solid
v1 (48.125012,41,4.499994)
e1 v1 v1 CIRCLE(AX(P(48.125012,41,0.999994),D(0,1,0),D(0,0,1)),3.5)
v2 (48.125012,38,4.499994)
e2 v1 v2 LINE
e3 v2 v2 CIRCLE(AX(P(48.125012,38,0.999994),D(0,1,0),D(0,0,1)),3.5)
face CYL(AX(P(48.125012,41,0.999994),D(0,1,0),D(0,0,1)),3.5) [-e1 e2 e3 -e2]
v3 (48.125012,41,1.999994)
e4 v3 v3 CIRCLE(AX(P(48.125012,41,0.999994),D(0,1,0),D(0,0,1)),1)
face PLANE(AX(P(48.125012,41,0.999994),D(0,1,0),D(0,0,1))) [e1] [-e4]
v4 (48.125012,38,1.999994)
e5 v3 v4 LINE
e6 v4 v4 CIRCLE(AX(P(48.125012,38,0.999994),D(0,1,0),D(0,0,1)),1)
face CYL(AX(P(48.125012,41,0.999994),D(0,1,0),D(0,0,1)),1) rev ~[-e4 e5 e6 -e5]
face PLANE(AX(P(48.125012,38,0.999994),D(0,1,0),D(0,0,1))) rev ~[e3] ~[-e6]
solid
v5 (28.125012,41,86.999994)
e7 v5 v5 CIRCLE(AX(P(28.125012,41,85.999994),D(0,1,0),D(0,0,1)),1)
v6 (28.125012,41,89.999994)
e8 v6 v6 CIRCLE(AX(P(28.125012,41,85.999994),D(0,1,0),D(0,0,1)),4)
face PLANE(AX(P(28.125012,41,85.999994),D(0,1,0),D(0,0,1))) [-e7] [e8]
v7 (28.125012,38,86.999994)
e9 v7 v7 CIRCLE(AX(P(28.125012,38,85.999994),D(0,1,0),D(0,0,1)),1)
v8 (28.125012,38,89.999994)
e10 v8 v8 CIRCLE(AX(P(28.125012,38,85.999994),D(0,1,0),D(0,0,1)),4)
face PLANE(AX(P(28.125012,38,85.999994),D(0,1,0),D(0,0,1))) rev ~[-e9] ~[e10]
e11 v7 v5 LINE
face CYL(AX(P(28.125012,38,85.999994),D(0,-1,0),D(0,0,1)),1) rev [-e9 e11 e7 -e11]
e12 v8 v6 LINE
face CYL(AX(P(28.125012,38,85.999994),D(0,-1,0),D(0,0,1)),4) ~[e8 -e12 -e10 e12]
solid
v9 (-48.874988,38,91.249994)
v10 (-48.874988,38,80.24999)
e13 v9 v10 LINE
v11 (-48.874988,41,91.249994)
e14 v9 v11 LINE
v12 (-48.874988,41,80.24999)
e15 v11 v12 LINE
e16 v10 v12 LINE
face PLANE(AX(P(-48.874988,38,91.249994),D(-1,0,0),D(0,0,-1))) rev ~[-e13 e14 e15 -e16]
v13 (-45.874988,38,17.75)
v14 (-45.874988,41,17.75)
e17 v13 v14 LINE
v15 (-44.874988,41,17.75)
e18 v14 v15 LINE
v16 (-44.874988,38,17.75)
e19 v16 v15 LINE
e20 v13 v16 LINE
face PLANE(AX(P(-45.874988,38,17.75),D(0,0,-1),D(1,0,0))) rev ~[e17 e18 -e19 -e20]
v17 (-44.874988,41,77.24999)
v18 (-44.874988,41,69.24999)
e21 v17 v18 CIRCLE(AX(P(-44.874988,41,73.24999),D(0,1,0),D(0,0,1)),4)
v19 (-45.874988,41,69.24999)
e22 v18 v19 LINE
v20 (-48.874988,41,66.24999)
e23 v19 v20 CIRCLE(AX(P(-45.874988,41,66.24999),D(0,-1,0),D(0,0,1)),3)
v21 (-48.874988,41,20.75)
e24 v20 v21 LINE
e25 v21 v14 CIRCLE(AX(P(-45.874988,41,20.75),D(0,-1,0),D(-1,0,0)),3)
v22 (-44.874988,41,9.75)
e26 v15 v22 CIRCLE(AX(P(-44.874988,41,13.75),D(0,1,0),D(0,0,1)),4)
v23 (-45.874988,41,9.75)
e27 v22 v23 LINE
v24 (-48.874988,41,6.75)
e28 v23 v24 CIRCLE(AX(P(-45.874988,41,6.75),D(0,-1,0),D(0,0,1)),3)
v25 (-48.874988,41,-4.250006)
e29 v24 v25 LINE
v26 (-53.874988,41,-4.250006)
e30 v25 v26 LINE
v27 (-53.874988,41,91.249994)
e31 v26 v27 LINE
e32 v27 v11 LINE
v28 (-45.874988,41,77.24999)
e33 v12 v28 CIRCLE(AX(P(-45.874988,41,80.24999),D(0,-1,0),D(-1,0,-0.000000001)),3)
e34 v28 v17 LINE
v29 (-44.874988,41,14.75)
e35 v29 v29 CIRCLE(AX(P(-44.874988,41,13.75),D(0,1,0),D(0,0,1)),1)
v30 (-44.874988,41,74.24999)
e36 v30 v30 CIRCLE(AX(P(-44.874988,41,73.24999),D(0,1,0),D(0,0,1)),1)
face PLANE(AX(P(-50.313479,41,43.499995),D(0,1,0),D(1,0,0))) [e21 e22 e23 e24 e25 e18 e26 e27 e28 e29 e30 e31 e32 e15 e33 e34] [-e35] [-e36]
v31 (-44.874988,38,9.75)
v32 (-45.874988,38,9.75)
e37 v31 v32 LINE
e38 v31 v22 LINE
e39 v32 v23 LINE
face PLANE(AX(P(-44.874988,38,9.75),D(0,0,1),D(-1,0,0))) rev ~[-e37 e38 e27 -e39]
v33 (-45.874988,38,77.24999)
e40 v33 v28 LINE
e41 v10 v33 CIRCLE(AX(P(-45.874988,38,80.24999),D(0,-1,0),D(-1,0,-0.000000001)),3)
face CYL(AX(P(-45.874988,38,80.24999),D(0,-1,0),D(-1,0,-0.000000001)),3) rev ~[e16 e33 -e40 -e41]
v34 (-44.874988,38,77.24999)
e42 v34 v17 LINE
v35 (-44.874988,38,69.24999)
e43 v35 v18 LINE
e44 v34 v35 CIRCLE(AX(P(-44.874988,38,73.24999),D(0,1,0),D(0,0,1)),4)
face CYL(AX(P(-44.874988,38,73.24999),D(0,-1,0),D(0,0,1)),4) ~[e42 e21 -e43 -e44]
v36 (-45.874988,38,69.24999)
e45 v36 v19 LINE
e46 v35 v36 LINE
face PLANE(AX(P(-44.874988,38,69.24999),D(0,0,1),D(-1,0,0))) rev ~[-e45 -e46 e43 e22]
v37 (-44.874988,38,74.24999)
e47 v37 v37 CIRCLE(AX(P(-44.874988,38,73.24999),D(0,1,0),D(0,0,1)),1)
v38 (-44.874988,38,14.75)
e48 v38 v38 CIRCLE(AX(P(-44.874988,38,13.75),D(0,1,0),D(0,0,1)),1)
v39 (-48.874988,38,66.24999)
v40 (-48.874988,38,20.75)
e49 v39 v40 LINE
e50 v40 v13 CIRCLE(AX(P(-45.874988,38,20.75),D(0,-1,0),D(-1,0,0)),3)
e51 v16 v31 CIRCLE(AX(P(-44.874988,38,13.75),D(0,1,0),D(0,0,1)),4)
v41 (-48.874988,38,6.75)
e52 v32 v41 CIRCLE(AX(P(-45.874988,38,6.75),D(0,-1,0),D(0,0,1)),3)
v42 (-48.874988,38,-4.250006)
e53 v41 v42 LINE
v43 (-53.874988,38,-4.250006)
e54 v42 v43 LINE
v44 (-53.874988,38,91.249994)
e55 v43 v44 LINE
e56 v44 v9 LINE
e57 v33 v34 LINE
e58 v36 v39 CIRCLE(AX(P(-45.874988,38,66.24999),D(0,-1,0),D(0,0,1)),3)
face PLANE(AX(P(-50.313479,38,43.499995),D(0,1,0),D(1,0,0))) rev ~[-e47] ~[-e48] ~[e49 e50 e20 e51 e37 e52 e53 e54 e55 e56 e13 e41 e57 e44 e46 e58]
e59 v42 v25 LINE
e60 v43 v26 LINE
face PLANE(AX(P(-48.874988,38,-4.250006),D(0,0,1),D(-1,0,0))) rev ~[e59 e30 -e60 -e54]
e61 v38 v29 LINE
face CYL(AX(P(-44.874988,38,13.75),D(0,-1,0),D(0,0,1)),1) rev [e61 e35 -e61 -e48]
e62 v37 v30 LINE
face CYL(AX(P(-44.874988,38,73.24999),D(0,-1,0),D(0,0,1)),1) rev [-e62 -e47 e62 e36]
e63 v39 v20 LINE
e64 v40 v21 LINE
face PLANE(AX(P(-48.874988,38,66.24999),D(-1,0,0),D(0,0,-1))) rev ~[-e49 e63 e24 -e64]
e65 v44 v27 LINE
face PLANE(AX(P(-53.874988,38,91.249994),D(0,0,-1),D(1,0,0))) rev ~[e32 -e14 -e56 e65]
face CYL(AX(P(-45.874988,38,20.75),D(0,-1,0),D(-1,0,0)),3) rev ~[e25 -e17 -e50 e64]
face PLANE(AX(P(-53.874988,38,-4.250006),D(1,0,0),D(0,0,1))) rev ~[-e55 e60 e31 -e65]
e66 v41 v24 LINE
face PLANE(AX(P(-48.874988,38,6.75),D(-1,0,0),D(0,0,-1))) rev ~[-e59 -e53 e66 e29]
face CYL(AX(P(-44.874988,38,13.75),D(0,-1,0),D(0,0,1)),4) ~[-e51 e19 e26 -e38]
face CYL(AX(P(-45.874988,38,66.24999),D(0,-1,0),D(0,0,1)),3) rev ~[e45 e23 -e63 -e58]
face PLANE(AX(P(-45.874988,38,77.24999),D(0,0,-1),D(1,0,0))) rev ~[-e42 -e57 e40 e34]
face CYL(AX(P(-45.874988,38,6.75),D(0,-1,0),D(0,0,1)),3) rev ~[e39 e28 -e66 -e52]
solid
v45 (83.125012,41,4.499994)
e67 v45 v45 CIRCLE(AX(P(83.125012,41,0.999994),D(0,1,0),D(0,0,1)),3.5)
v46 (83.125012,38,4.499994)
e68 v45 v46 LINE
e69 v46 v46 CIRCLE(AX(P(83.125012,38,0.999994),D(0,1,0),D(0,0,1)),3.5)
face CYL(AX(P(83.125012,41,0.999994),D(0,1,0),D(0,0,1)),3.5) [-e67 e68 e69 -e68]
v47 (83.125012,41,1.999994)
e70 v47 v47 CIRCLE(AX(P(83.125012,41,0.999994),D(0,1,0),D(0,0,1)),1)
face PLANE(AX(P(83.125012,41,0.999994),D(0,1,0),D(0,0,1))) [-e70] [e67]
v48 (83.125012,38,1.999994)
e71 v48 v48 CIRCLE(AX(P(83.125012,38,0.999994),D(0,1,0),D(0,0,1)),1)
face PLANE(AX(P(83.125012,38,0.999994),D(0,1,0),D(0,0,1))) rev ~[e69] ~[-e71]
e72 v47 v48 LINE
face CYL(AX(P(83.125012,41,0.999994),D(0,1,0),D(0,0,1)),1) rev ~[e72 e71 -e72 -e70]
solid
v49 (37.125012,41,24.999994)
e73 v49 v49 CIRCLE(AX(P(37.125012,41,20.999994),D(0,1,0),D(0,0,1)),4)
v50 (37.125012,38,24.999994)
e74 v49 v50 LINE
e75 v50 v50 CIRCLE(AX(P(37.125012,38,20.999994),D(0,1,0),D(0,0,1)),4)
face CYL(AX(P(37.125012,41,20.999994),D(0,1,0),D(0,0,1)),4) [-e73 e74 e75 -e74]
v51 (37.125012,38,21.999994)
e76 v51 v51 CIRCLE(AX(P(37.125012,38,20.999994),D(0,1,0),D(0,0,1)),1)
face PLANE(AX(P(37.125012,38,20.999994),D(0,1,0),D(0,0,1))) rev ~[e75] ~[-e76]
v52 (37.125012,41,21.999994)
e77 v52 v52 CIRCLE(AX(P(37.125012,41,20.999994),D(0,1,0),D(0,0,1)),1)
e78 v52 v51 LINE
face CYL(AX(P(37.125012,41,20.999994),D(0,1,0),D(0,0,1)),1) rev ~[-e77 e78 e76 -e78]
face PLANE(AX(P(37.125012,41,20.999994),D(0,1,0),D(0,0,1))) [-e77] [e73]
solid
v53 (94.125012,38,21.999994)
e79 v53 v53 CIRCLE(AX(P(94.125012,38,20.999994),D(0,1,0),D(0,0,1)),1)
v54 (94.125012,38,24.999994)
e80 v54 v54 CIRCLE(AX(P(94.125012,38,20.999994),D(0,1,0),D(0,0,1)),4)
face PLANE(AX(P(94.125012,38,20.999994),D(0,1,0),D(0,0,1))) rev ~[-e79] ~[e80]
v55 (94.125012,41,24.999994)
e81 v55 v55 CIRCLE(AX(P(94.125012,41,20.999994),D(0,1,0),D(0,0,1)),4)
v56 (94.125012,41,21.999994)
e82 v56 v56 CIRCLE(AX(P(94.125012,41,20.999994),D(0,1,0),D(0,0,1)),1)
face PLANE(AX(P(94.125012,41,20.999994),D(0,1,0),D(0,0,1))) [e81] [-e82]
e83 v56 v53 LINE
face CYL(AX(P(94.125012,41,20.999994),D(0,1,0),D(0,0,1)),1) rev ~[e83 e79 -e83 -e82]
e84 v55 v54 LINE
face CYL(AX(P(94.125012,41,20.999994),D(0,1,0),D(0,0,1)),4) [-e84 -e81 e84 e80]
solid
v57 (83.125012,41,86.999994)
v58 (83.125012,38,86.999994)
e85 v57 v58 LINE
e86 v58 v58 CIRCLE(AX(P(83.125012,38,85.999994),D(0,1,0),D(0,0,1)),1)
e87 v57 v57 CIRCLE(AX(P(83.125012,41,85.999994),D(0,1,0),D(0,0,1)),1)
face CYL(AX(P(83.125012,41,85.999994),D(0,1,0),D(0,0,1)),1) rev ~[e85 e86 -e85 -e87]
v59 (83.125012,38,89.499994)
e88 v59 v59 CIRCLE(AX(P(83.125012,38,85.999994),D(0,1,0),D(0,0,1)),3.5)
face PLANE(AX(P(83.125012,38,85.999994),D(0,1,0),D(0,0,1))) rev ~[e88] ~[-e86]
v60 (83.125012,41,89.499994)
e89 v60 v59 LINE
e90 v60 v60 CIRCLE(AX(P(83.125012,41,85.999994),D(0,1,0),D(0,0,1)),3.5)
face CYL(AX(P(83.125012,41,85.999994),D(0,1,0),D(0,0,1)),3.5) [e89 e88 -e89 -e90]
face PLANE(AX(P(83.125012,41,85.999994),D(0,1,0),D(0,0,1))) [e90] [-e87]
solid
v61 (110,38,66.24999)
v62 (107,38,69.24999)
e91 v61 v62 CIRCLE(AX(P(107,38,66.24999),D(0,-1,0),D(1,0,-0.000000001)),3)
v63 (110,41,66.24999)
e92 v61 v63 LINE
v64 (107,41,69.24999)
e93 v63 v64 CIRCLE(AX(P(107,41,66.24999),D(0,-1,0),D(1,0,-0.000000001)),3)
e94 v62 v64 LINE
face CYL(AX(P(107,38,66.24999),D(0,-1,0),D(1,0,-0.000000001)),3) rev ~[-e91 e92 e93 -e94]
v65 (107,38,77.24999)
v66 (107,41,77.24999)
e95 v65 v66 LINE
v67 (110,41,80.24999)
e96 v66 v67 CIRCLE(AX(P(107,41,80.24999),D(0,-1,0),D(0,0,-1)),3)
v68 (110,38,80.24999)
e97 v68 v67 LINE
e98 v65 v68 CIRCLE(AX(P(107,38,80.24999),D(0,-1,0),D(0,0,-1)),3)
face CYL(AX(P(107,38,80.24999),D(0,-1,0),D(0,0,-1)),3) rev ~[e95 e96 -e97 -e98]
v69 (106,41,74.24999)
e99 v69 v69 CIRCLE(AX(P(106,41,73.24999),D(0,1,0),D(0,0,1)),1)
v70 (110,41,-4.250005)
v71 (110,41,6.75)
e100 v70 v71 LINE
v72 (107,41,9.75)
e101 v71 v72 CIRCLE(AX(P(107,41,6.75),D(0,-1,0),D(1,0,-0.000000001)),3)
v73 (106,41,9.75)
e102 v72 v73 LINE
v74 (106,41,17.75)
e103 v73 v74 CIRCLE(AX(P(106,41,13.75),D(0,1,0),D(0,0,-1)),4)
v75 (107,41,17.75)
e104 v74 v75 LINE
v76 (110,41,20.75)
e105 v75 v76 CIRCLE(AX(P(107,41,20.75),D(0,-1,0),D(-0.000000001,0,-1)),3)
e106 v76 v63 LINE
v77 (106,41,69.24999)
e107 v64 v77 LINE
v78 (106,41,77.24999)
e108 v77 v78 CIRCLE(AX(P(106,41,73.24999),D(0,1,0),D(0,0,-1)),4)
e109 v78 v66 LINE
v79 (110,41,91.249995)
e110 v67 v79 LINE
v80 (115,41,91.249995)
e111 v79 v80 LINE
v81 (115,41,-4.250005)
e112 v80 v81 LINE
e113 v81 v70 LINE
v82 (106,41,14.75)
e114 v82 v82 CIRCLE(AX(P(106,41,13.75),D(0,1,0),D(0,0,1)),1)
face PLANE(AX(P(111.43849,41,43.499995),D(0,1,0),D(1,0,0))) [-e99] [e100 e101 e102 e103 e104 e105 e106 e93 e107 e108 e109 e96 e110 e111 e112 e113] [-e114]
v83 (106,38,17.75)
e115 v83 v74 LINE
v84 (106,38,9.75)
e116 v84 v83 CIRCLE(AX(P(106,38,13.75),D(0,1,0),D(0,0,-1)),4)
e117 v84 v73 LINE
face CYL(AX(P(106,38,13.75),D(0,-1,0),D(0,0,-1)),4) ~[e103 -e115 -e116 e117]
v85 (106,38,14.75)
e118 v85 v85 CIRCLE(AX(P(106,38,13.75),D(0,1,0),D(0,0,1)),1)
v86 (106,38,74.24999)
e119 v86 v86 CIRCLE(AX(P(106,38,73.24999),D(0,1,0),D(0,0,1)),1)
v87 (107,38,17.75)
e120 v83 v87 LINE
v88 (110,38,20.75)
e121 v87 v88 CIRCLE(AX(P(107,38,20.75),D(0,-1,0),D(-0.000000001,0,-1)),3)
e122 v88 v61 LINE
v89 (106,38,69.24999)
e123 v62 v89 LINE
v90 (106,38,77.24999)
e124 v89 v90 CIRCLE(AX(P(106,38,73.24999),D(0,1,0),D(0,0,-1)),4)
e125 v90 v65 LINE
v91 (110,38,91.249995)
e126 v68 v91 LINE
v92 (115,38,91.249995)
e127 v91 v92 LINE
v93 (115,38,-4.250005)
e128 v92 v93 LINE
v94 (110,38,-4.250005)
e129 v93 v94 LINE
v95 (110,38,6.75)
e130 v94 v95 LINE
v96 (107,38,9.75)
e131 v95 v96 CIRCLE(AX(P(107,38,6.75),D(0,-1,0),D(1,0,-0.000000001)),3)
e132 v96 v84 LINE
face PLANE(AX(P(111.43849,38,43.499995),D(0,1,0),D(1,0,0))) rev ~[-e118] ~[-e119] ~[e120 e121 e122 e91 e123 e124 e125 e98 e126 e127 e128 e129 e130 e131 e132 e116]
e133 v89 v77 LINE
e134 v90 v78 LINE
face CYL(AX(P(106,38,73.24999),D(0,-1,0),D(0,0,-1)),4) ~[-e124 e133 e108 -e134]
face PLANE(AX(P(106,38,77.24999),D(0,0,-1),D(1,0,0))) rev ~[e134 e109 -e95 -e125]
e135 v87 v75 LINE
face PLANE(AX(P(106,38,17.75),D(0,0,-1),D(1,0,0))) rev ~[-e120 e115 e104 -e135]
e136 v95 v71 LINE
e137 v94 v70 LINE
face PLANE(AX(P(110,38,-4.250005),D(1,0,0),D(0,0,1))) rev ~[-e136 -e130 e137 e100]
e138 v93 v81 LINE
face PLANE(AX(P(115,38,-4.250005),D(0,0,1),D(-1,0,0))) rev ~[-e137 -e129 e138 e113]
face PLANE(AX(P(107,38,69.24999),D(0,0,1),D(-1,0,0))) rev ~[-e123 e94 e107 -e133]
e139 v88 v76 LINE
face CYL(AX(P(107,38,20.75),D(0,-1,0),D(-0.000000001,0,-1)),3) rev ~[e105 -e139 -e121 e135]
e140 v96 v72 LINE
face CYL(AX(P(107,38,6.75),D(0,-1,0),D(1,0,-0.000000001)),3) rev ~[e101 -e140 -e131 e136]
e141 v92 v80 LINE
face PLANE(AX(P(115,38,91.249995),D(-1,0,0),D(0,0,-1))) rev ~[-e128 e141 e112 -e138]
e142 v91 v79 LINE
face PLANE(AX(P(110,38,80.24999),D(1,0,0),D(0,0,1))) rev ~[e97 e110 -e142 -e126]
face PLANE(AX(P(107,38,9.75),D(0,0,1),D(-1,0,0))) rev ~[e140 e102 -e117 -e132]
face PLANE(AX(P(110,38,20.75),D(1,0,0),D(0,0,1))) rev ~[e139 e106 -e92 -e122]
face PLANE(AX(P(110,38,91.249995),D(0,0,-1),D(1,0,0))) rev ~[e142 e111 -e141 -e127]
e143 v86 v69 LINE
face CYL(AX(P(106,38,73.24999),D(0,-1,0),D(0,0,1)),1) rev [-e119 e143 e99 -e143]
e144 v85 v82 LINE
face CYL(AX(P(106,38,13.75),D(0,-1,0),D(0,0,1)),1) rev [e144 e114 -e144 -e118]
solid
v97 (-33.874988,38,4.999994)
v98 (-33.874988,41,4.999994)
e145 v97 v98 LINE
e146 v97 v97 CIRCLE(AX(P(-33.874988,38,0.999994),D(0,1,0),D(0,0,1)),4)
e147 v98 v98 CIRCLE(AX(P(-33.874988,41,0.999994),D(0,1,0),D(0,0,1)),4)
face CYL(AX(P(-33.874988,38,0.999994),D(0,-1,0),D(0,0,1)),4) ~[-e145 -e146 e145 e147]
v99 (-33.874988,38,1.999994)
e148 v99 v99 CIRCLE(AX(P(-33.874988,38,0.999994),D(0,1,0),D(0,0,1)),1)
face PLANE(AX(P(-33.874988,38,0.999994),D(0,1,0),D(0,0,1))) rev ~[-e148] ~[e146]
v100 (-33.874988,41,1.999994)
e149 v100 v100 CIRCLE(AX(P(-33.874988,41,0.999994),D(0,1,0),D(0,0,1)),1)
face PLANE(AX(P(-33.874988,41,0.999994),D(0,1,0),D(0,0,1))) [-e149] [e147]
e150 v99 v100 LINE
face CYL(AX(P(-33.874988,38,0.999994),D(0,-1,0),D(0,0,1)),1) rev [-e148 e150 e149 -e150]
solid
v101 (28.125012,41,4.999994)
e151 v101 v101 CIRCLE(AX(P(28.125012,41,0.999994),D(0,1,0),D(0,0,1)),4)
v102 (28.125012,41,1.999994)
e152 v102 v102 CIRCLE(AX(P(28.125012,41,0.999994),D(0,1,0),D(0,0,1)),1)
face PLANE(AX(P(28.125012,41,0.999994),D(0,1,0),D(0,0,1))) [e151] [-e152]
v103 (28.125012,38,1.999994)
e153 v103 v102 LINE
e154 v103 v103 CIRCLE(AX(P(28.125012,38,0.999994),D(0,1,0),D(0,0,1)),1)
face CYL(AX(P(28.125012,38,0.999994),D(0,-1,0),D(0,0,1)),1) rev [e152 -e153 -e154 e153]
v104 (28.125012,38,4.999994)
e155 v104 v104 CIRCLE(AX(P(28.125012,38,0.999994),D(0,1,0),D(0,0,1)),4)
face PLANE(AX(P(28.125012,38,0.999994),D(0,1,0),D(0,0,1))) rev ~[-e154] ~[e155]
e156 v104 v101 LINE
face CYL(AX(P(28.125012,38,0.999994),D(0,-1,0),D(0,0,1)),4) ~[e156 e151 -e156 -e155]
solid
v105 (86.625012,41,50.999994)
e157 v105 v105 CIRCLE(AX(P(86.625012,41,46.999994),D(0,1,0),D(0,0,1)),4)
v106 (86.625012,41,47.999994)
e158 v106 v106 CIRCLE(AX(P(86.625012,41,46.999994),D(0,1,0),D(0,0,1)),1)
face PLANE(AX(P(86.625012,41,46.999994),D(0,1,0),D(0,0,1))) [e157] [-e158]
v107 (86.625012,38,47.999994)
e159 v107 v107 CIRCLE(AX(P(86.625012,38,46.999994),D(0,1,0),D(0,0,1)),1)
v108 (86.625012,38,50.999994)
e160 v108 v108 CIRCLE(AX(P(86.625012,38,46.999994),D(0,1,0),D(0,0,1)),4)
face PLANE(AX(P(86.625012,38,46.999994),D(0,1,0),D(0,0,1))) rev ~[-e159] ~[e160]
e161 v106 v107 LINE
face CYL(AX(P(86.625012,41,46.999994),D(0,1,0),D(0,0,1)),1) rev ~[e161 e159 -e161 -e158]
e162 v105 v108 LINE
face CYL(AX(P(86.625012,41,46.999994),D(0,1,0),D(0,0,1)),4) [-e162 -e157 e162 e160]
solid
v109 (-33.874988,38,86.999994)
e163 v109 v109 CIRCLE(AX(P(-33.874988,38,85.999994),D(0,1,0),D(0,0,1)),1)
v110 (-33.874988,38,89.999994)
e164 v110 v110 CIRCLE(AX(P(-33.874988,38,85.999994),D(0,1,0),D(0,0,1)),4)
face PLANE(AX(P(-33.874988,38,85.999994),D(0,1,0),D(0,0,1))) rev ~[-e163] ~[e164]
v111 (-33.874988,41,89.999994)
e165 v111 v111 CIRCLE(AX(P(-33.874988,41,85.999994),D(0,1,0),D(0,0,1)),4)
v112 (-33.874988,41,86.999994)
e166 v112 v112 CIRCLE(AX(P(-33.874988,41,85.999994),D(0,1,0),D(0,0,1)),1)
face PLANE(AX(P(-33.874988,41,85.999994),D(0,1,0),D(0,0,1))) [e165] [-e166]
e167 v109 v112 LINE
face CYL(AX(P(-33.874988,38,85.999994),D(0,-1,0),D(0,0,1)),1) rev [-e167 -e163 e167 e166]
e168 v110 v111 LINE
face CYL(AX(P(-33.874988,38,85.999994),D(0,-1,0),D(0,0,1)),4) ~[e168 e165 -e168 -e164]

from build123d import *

# Parameters (mm, degrees)
SKETCH1_R                                    = 4
SKETCH1_R_2                                  = 1
LEVEL_2_INTERFACE_AND_AMP_SCREWHOLES_DEPTH   = 3
LEVEL_2_INTERFACE_AND_AMP_SCREWHOLES_2_DEPTH = 3
LEVEL_2_INTERFACE_AND_AMP_SCREWHOLES_3_DEPTH = 3
LEVEL_2_INTERFACE_AND_AMP_SCREWHOLES_4_DEPTH = 3
LEVEL_2_INTERFACE_AND_AMP_SCREWHOLES_5_DEPTH = 3
LEVEL_2_INTERFACE_AND_AMP_SCREWHOLES_6_DEPTH = 3
SKETCH2_R                                    = 3.5
SKETCH2_R_2                                  = 1
SOUND_CARD_SCREWHOLES_DEPTH                  = 3
SOUND_CARD_SCREWHOLES_2_DEPTH                = 3
SOUND_CARD_SCREWHOLES_3_DEPTH                = 3
SKETCH3_R                                    = 4
SKETCH3_R_2                                  = 1
BOSS_EXTRUDE3_DEPTH                          = 3
BOSS_EXTRUDE3_2_DEPTH                        = 3
BOSS_EXTRUDE3_3_DEPTH                        = 3


with BuildPart() as part:
    # Sketch1 → LEVEL 2 interface and amp screwholes (new body)
    with BuildSketch(Plane(origin=(0, 38, 0), x_dir=(1, 0, 0), z_dir=(0, 1, 0))):
        with Locations(Location((-33.874988464, -85.999994444, 0), (0, 0, 270))):
            Circle(SKETCH1_R)
        with Locations(Location((-33.874988464, -85.999994444, 0), (0, 0, 270))):
            Circle(SKETCH1_R_2, mode=Mode.SUBTRACT)
    extrude(amount=LEVEL_2_INTERFACE_AND_AMP_SCREWHOLES_DEPTH)


with BuildPart() as body_2:
    # Sketch1 → LEVEL 2 interface and amp screwholes 2 (new body)
    with BuildSketch(Plane(origin=(0, 38, 0), x_dir=(1, 0, 0), z_dir=(0, 1, 0))):
        with Locations(Location((28.125011536, -85.999994444, 0), (0, 0, 270))):
            Circle(SKETCH1_R)
        with Locations(Location((28.125011536, -85.999994444, 0), (0, 0, 270))):
            Circle(SKETCH1_R_2, mode=Mode.SUBTRACT)
    extrude(amount=LEVEL_2_INTERFACE_AND_AMP_SCREWHOLES_2_DEPTH)


with BuildPart() as body_3:
    # Sketch1 → LEVEL 2 interface and amp screwholes 3 (new body)
    with BuildSketch(Plane(origin=(0, 38, 0), x_dir=(1, 0, 0), z_dir=(0, 1, 0))):
        with Locations(Location((28.125011536, -0.999994444, 0), (0, 0, 270))):
            Circle(SKETCH1_R)
        with Locations(Location((28.125011536, -0.999994444, 0), (0, 0, 270))):
            Circle(SKETCH1_R_2, mode=Mode.SUBTRACT)
    extrude(amount=LEVEL_2_INTERFACE_AND_AMP_SCREWHOLES_3_DEPTH)


with BuildPart() as body_4:
    # Sketch1 → LEVEL 2 interface and amp screwholes 4 (new body)
    with BuildSketch(Plane(origin=(0, 38, 0), x_dir=(1, 0, 0), z_dir=(0, 1, 0))):
        with Locations(Location((-33.874988464, -0.999994444, 0), (0, 0, 270))):
            Circle(SKETCH1_R)
        with Locations(Location((-33.874988464, -0.999994444, 0), (0, 0, 270))):
            Circle(SKETCH1_R_2, mode=Mode.SUBTRACT)
    extrude(amount=LEVEL_2_INTERFACE_AND_AMP_SCREWHOLES_4_DEPTH)


with BuildPart() as body_5:
    # Sketch1 → LEVEL 2 interface and amp screwholes 5 (new body)
    with BuildSketch(Plane(origin=(0, 38, 0), x_dir=(1, 0, 0), z_dir=(0, 1, 0))):
        with BuildLine():
            Line((-53.874988464, 4.250005556), (-53.874988464, -91.249994444))
            Line((-53.874988464, -91.249994444), (-48.874988464, -91.249994444))
            Line((-48.874988464, -91.249994444), (-48.874988464, -80.249990415))
            ThreePointArc((-48.874988464, -80.249990415), (-47.996308807, -78.128670072), (-45.874988464, -77.249990415))
            Line((-45.874988464, -77.249990415), (-44.874988464, -77.249990415))
            ThreePointArc((-44.874988464, -77.249990415), (-40.874988464, -73.249990415), (-44.874988464, -69.249990415))
            Line((-44.874988464, -69.249990415), (-45.874988464, -69.249990415))
            ThreePointArc((-45.874988464, -69.249990415), (-47.996308807, -68.371310759), (-48.874988464, -66.249990415))
            Line((-48.874988464, -66.249990415), (-48.874988464, -20.75))
            ThreePointArc((-48.874988464, -20.75), (-47.996308807, -18.628679656), (-45.874988464, -17.75))
            Line((-45.874988464, -17.75), (-44.874988464, -17.75))
            ThreePointArc((-44.874988464, -17.75), (-40.874988464, -13.75), (-44.874988464, -9.75))
            Line((-44.874988464, -9.75), (-45.874988464, -9.75))
            ThreePointArc((-45.874988464, -9.75), (-47.996308807, -8.871320344), (-48.874988464, -6.75))
            Line((-48.874988464, -6.75), (-48.874988464, 4.250005556))
            Line((-48.874988464, 4.250005556), (-53.874988464, 4.250005556))
        make_face()
        with Locations(Location((-44.874988464, -13.75, 0), (0, 0, 270))):
            Circle(SKETCH1_R_2, mode=Mode.SUBTRACT)
        with Locations(Location((-44.874988464, -73.249990415, 0), (0, 0, 270))):
            Circle(SKETCH1_R_2, mode=Mode.SUBTRACT)
    extrude(amount=LEVEL_2_INTERFACE_AND_AMP_SCREWHOLES_5_DEPTH)


with BuildPart() as body_6:
    # Sketch1 → LEVEL 2 interface and amp screwholes 6 (new body)
    with BuildSketch(Plane(origin=(0, 38, 0), x_dir=(1, 0, 0), z_dir=(0, 1, 0))):
        with BuildLine():
            Line((110, 4.250004792), (110, -6.75))
            ThreePointArc((110, -6.75), (109.121320344, -8.871320344), (107, -9.75))
            Line((107, -9.75), (106, -9.75))
            ThreePointArc((106, -9.75), (102, -13.75), (106, -17.75))
            Line((106, -17.75), (107, -17.75))
            ThreePointArc((107, -17.75), (109.121320344, -18.628679656), (110, -20.75))
            Line((110, -20.75), (110, -66.249990415))
            ThreePointArc((110, -66.249990415), (109.121320344, -68.371310759), (107, -69.249990415))
            Line((107, -69.249990415), (106, -69.249990415))
            ThreePointArc((106, -69.249990415), (102, -73.249990415), (106, -77.249990415))
            Line((106, -77.249990415), (107, -77.249990415))
            ThreePointArc((107, -77.249990415), (109.121320344, -78.128670072), (110, -80.249990415))
            Line((110, -80.249990415), (110, -91.249995208))
            Line((110, -91.249995208), (115, -91.249995208))
            Line((115, -91.249995208), (115, 4.250004792))
            Line((115, 4.250004792), (110, 4.250004792))
        make_face()
        with Locations(Location((106, -13.75, 0), (0, 0, 270))):
            Circle(SKETCH1_R_2, mode=Mode.SUBTRACT)
        with Locations(Location((106, -73.249990415, 0), (0, 0, 270))):
            Circle(SKETCH1_R_2, mode=Mode.SUBTRACT)
    extrude(amount=LEVEL_2_INTERFACE_AND_AMP_SCREWHOLES_6_DEPTH)


with BuildPart() as body_7:
    # Sketch2 → Sound card screwholes (new body)
    with BuildSketch(Plane(origin=(0, 41, 0), x_dir=(1, 0, 0), z_dir=(0, 1, 0))):
        with Locations(Location((48.125011536, -0.999994444, 0), (0, 0, 270))):
            Circle(SKETCH2_R)
        with Locations(Location((48.125011536, -0.999994444, 0), (0, 0, 270))):
            Circle(SKETCH2_R_2, mode=Mode.SUBTRACT)
    extrude(amount=-SOUND_CARD_SCREWHOLES_DEPTH)


with BuildPart() as body_8:
    # Sketch2 → Sound card screwholes 2 (new body)
    with BuildSketch(Plane(origin=(0, 41, 0), x_dir=(1, 0, 0), z_dir=(0, 1, 0))):
        with Locations(Location((83.125011536, -0.999994444, 0), (0, 0, 270))):
            Circle(SKETCH2_R)
        with Locations(Location((83.125011536, -0.999994444, 0), (0, 0, 270))):
            Circle(SKETCH2_R_2, mode=Mode.SUBTRACT)
    extrude(amount=-SOUND_CARD_SCREWHOLES_2_DEPTH)


with BuildPart() as body_9:
    # Sketch2 → Sound card screwholes 3 (new body)
    with BuildSketch(Plane(origin=(0, 41, 0), x_dir=(1, 0, 0), z_dir=(0, 1, 0))):
        with Locations(Location((83.125011536, -85.999994444, 0), (0, 0, 270))):
            Circle(SKETCH2_R)
        with Locations(Location((83.125011536, -85.999994444, 0), (0, 0, 270))):
            Circle(SKETCH2_R_2, mode=Mode.SUBTRACT)
    extrude(amount=-SOUND_CARD_SCREWHOLES_3_DEPTH)


with BuildPart() as body_10:
    # Sketch3 → Boss-Extrude3 (new body)
    with BuildSketch(Plane(origin=(0, 41, 0), x_dir=(1, 0, 0), z_dir=(0, 1, 0))):
        with Locations(Location((94.125011536, -20.999994444, 0), (0, 0, 270))):
            Circle(SKETCH3_R)
        with Locations(Location((94.125011536, -20.999994444, 0), (0, 0, 270))):
            Circle(SKETCH3_R_2, mode=Mode.SUBTRACT)
    extrude(amount=-BOSS_EXTRUDE3_DEPTH)


with BuildPart() as body_11:
    # Sketch3 → Boss-Extrude3 2 (new body)
    with BuildSketch(Plane(origin=(0, 41, 0), x_dir=(1, 0, 0), z_dir=(0, 1, 0))):
        with Locations(Location((86.625011536, -46.999994444, 0), (0, 0, 270))):
            Circle(SKETCH3_R)
        with Locations(Location((86.625011536, -46.999994444, 0), (0, 0, 270))):
            Circle(SKETCH3_R_2, mode=Mode.SUBTRACT)
    extrude(amount=-BOSS_EXTRUDE3_2_DEPTH)


with BuildPart() as body_12:
    # Sketch3 → Boss-Extrude3 3 (new body)
    with BuildSketch(Plane(origin=(0, 41, 0), x_dir=(1, 0, 0), z_dir=(0, 1, 0))):
        with Locations(Location((37.125011536, -20.999994444, 0), (0, 0, 270))):
            Circle(SKETCH3_R)
        with Locations(Location((37.125011536, -20.999994444, 0), (0, 0, 270))):
            Circle(SKETCH3_R_2, mode=Mode.SUBTRACT)
    extrude(amount=-BOSS_EXTRUDE3_3_DEPTH)


solid = Compound([part.part, body_2.part, body_3.part, body_4.part, body_5.part, body_6.part, body_7.part, body_8.part, body_9.part, body_10.part, body_11.part, body_12.part])
